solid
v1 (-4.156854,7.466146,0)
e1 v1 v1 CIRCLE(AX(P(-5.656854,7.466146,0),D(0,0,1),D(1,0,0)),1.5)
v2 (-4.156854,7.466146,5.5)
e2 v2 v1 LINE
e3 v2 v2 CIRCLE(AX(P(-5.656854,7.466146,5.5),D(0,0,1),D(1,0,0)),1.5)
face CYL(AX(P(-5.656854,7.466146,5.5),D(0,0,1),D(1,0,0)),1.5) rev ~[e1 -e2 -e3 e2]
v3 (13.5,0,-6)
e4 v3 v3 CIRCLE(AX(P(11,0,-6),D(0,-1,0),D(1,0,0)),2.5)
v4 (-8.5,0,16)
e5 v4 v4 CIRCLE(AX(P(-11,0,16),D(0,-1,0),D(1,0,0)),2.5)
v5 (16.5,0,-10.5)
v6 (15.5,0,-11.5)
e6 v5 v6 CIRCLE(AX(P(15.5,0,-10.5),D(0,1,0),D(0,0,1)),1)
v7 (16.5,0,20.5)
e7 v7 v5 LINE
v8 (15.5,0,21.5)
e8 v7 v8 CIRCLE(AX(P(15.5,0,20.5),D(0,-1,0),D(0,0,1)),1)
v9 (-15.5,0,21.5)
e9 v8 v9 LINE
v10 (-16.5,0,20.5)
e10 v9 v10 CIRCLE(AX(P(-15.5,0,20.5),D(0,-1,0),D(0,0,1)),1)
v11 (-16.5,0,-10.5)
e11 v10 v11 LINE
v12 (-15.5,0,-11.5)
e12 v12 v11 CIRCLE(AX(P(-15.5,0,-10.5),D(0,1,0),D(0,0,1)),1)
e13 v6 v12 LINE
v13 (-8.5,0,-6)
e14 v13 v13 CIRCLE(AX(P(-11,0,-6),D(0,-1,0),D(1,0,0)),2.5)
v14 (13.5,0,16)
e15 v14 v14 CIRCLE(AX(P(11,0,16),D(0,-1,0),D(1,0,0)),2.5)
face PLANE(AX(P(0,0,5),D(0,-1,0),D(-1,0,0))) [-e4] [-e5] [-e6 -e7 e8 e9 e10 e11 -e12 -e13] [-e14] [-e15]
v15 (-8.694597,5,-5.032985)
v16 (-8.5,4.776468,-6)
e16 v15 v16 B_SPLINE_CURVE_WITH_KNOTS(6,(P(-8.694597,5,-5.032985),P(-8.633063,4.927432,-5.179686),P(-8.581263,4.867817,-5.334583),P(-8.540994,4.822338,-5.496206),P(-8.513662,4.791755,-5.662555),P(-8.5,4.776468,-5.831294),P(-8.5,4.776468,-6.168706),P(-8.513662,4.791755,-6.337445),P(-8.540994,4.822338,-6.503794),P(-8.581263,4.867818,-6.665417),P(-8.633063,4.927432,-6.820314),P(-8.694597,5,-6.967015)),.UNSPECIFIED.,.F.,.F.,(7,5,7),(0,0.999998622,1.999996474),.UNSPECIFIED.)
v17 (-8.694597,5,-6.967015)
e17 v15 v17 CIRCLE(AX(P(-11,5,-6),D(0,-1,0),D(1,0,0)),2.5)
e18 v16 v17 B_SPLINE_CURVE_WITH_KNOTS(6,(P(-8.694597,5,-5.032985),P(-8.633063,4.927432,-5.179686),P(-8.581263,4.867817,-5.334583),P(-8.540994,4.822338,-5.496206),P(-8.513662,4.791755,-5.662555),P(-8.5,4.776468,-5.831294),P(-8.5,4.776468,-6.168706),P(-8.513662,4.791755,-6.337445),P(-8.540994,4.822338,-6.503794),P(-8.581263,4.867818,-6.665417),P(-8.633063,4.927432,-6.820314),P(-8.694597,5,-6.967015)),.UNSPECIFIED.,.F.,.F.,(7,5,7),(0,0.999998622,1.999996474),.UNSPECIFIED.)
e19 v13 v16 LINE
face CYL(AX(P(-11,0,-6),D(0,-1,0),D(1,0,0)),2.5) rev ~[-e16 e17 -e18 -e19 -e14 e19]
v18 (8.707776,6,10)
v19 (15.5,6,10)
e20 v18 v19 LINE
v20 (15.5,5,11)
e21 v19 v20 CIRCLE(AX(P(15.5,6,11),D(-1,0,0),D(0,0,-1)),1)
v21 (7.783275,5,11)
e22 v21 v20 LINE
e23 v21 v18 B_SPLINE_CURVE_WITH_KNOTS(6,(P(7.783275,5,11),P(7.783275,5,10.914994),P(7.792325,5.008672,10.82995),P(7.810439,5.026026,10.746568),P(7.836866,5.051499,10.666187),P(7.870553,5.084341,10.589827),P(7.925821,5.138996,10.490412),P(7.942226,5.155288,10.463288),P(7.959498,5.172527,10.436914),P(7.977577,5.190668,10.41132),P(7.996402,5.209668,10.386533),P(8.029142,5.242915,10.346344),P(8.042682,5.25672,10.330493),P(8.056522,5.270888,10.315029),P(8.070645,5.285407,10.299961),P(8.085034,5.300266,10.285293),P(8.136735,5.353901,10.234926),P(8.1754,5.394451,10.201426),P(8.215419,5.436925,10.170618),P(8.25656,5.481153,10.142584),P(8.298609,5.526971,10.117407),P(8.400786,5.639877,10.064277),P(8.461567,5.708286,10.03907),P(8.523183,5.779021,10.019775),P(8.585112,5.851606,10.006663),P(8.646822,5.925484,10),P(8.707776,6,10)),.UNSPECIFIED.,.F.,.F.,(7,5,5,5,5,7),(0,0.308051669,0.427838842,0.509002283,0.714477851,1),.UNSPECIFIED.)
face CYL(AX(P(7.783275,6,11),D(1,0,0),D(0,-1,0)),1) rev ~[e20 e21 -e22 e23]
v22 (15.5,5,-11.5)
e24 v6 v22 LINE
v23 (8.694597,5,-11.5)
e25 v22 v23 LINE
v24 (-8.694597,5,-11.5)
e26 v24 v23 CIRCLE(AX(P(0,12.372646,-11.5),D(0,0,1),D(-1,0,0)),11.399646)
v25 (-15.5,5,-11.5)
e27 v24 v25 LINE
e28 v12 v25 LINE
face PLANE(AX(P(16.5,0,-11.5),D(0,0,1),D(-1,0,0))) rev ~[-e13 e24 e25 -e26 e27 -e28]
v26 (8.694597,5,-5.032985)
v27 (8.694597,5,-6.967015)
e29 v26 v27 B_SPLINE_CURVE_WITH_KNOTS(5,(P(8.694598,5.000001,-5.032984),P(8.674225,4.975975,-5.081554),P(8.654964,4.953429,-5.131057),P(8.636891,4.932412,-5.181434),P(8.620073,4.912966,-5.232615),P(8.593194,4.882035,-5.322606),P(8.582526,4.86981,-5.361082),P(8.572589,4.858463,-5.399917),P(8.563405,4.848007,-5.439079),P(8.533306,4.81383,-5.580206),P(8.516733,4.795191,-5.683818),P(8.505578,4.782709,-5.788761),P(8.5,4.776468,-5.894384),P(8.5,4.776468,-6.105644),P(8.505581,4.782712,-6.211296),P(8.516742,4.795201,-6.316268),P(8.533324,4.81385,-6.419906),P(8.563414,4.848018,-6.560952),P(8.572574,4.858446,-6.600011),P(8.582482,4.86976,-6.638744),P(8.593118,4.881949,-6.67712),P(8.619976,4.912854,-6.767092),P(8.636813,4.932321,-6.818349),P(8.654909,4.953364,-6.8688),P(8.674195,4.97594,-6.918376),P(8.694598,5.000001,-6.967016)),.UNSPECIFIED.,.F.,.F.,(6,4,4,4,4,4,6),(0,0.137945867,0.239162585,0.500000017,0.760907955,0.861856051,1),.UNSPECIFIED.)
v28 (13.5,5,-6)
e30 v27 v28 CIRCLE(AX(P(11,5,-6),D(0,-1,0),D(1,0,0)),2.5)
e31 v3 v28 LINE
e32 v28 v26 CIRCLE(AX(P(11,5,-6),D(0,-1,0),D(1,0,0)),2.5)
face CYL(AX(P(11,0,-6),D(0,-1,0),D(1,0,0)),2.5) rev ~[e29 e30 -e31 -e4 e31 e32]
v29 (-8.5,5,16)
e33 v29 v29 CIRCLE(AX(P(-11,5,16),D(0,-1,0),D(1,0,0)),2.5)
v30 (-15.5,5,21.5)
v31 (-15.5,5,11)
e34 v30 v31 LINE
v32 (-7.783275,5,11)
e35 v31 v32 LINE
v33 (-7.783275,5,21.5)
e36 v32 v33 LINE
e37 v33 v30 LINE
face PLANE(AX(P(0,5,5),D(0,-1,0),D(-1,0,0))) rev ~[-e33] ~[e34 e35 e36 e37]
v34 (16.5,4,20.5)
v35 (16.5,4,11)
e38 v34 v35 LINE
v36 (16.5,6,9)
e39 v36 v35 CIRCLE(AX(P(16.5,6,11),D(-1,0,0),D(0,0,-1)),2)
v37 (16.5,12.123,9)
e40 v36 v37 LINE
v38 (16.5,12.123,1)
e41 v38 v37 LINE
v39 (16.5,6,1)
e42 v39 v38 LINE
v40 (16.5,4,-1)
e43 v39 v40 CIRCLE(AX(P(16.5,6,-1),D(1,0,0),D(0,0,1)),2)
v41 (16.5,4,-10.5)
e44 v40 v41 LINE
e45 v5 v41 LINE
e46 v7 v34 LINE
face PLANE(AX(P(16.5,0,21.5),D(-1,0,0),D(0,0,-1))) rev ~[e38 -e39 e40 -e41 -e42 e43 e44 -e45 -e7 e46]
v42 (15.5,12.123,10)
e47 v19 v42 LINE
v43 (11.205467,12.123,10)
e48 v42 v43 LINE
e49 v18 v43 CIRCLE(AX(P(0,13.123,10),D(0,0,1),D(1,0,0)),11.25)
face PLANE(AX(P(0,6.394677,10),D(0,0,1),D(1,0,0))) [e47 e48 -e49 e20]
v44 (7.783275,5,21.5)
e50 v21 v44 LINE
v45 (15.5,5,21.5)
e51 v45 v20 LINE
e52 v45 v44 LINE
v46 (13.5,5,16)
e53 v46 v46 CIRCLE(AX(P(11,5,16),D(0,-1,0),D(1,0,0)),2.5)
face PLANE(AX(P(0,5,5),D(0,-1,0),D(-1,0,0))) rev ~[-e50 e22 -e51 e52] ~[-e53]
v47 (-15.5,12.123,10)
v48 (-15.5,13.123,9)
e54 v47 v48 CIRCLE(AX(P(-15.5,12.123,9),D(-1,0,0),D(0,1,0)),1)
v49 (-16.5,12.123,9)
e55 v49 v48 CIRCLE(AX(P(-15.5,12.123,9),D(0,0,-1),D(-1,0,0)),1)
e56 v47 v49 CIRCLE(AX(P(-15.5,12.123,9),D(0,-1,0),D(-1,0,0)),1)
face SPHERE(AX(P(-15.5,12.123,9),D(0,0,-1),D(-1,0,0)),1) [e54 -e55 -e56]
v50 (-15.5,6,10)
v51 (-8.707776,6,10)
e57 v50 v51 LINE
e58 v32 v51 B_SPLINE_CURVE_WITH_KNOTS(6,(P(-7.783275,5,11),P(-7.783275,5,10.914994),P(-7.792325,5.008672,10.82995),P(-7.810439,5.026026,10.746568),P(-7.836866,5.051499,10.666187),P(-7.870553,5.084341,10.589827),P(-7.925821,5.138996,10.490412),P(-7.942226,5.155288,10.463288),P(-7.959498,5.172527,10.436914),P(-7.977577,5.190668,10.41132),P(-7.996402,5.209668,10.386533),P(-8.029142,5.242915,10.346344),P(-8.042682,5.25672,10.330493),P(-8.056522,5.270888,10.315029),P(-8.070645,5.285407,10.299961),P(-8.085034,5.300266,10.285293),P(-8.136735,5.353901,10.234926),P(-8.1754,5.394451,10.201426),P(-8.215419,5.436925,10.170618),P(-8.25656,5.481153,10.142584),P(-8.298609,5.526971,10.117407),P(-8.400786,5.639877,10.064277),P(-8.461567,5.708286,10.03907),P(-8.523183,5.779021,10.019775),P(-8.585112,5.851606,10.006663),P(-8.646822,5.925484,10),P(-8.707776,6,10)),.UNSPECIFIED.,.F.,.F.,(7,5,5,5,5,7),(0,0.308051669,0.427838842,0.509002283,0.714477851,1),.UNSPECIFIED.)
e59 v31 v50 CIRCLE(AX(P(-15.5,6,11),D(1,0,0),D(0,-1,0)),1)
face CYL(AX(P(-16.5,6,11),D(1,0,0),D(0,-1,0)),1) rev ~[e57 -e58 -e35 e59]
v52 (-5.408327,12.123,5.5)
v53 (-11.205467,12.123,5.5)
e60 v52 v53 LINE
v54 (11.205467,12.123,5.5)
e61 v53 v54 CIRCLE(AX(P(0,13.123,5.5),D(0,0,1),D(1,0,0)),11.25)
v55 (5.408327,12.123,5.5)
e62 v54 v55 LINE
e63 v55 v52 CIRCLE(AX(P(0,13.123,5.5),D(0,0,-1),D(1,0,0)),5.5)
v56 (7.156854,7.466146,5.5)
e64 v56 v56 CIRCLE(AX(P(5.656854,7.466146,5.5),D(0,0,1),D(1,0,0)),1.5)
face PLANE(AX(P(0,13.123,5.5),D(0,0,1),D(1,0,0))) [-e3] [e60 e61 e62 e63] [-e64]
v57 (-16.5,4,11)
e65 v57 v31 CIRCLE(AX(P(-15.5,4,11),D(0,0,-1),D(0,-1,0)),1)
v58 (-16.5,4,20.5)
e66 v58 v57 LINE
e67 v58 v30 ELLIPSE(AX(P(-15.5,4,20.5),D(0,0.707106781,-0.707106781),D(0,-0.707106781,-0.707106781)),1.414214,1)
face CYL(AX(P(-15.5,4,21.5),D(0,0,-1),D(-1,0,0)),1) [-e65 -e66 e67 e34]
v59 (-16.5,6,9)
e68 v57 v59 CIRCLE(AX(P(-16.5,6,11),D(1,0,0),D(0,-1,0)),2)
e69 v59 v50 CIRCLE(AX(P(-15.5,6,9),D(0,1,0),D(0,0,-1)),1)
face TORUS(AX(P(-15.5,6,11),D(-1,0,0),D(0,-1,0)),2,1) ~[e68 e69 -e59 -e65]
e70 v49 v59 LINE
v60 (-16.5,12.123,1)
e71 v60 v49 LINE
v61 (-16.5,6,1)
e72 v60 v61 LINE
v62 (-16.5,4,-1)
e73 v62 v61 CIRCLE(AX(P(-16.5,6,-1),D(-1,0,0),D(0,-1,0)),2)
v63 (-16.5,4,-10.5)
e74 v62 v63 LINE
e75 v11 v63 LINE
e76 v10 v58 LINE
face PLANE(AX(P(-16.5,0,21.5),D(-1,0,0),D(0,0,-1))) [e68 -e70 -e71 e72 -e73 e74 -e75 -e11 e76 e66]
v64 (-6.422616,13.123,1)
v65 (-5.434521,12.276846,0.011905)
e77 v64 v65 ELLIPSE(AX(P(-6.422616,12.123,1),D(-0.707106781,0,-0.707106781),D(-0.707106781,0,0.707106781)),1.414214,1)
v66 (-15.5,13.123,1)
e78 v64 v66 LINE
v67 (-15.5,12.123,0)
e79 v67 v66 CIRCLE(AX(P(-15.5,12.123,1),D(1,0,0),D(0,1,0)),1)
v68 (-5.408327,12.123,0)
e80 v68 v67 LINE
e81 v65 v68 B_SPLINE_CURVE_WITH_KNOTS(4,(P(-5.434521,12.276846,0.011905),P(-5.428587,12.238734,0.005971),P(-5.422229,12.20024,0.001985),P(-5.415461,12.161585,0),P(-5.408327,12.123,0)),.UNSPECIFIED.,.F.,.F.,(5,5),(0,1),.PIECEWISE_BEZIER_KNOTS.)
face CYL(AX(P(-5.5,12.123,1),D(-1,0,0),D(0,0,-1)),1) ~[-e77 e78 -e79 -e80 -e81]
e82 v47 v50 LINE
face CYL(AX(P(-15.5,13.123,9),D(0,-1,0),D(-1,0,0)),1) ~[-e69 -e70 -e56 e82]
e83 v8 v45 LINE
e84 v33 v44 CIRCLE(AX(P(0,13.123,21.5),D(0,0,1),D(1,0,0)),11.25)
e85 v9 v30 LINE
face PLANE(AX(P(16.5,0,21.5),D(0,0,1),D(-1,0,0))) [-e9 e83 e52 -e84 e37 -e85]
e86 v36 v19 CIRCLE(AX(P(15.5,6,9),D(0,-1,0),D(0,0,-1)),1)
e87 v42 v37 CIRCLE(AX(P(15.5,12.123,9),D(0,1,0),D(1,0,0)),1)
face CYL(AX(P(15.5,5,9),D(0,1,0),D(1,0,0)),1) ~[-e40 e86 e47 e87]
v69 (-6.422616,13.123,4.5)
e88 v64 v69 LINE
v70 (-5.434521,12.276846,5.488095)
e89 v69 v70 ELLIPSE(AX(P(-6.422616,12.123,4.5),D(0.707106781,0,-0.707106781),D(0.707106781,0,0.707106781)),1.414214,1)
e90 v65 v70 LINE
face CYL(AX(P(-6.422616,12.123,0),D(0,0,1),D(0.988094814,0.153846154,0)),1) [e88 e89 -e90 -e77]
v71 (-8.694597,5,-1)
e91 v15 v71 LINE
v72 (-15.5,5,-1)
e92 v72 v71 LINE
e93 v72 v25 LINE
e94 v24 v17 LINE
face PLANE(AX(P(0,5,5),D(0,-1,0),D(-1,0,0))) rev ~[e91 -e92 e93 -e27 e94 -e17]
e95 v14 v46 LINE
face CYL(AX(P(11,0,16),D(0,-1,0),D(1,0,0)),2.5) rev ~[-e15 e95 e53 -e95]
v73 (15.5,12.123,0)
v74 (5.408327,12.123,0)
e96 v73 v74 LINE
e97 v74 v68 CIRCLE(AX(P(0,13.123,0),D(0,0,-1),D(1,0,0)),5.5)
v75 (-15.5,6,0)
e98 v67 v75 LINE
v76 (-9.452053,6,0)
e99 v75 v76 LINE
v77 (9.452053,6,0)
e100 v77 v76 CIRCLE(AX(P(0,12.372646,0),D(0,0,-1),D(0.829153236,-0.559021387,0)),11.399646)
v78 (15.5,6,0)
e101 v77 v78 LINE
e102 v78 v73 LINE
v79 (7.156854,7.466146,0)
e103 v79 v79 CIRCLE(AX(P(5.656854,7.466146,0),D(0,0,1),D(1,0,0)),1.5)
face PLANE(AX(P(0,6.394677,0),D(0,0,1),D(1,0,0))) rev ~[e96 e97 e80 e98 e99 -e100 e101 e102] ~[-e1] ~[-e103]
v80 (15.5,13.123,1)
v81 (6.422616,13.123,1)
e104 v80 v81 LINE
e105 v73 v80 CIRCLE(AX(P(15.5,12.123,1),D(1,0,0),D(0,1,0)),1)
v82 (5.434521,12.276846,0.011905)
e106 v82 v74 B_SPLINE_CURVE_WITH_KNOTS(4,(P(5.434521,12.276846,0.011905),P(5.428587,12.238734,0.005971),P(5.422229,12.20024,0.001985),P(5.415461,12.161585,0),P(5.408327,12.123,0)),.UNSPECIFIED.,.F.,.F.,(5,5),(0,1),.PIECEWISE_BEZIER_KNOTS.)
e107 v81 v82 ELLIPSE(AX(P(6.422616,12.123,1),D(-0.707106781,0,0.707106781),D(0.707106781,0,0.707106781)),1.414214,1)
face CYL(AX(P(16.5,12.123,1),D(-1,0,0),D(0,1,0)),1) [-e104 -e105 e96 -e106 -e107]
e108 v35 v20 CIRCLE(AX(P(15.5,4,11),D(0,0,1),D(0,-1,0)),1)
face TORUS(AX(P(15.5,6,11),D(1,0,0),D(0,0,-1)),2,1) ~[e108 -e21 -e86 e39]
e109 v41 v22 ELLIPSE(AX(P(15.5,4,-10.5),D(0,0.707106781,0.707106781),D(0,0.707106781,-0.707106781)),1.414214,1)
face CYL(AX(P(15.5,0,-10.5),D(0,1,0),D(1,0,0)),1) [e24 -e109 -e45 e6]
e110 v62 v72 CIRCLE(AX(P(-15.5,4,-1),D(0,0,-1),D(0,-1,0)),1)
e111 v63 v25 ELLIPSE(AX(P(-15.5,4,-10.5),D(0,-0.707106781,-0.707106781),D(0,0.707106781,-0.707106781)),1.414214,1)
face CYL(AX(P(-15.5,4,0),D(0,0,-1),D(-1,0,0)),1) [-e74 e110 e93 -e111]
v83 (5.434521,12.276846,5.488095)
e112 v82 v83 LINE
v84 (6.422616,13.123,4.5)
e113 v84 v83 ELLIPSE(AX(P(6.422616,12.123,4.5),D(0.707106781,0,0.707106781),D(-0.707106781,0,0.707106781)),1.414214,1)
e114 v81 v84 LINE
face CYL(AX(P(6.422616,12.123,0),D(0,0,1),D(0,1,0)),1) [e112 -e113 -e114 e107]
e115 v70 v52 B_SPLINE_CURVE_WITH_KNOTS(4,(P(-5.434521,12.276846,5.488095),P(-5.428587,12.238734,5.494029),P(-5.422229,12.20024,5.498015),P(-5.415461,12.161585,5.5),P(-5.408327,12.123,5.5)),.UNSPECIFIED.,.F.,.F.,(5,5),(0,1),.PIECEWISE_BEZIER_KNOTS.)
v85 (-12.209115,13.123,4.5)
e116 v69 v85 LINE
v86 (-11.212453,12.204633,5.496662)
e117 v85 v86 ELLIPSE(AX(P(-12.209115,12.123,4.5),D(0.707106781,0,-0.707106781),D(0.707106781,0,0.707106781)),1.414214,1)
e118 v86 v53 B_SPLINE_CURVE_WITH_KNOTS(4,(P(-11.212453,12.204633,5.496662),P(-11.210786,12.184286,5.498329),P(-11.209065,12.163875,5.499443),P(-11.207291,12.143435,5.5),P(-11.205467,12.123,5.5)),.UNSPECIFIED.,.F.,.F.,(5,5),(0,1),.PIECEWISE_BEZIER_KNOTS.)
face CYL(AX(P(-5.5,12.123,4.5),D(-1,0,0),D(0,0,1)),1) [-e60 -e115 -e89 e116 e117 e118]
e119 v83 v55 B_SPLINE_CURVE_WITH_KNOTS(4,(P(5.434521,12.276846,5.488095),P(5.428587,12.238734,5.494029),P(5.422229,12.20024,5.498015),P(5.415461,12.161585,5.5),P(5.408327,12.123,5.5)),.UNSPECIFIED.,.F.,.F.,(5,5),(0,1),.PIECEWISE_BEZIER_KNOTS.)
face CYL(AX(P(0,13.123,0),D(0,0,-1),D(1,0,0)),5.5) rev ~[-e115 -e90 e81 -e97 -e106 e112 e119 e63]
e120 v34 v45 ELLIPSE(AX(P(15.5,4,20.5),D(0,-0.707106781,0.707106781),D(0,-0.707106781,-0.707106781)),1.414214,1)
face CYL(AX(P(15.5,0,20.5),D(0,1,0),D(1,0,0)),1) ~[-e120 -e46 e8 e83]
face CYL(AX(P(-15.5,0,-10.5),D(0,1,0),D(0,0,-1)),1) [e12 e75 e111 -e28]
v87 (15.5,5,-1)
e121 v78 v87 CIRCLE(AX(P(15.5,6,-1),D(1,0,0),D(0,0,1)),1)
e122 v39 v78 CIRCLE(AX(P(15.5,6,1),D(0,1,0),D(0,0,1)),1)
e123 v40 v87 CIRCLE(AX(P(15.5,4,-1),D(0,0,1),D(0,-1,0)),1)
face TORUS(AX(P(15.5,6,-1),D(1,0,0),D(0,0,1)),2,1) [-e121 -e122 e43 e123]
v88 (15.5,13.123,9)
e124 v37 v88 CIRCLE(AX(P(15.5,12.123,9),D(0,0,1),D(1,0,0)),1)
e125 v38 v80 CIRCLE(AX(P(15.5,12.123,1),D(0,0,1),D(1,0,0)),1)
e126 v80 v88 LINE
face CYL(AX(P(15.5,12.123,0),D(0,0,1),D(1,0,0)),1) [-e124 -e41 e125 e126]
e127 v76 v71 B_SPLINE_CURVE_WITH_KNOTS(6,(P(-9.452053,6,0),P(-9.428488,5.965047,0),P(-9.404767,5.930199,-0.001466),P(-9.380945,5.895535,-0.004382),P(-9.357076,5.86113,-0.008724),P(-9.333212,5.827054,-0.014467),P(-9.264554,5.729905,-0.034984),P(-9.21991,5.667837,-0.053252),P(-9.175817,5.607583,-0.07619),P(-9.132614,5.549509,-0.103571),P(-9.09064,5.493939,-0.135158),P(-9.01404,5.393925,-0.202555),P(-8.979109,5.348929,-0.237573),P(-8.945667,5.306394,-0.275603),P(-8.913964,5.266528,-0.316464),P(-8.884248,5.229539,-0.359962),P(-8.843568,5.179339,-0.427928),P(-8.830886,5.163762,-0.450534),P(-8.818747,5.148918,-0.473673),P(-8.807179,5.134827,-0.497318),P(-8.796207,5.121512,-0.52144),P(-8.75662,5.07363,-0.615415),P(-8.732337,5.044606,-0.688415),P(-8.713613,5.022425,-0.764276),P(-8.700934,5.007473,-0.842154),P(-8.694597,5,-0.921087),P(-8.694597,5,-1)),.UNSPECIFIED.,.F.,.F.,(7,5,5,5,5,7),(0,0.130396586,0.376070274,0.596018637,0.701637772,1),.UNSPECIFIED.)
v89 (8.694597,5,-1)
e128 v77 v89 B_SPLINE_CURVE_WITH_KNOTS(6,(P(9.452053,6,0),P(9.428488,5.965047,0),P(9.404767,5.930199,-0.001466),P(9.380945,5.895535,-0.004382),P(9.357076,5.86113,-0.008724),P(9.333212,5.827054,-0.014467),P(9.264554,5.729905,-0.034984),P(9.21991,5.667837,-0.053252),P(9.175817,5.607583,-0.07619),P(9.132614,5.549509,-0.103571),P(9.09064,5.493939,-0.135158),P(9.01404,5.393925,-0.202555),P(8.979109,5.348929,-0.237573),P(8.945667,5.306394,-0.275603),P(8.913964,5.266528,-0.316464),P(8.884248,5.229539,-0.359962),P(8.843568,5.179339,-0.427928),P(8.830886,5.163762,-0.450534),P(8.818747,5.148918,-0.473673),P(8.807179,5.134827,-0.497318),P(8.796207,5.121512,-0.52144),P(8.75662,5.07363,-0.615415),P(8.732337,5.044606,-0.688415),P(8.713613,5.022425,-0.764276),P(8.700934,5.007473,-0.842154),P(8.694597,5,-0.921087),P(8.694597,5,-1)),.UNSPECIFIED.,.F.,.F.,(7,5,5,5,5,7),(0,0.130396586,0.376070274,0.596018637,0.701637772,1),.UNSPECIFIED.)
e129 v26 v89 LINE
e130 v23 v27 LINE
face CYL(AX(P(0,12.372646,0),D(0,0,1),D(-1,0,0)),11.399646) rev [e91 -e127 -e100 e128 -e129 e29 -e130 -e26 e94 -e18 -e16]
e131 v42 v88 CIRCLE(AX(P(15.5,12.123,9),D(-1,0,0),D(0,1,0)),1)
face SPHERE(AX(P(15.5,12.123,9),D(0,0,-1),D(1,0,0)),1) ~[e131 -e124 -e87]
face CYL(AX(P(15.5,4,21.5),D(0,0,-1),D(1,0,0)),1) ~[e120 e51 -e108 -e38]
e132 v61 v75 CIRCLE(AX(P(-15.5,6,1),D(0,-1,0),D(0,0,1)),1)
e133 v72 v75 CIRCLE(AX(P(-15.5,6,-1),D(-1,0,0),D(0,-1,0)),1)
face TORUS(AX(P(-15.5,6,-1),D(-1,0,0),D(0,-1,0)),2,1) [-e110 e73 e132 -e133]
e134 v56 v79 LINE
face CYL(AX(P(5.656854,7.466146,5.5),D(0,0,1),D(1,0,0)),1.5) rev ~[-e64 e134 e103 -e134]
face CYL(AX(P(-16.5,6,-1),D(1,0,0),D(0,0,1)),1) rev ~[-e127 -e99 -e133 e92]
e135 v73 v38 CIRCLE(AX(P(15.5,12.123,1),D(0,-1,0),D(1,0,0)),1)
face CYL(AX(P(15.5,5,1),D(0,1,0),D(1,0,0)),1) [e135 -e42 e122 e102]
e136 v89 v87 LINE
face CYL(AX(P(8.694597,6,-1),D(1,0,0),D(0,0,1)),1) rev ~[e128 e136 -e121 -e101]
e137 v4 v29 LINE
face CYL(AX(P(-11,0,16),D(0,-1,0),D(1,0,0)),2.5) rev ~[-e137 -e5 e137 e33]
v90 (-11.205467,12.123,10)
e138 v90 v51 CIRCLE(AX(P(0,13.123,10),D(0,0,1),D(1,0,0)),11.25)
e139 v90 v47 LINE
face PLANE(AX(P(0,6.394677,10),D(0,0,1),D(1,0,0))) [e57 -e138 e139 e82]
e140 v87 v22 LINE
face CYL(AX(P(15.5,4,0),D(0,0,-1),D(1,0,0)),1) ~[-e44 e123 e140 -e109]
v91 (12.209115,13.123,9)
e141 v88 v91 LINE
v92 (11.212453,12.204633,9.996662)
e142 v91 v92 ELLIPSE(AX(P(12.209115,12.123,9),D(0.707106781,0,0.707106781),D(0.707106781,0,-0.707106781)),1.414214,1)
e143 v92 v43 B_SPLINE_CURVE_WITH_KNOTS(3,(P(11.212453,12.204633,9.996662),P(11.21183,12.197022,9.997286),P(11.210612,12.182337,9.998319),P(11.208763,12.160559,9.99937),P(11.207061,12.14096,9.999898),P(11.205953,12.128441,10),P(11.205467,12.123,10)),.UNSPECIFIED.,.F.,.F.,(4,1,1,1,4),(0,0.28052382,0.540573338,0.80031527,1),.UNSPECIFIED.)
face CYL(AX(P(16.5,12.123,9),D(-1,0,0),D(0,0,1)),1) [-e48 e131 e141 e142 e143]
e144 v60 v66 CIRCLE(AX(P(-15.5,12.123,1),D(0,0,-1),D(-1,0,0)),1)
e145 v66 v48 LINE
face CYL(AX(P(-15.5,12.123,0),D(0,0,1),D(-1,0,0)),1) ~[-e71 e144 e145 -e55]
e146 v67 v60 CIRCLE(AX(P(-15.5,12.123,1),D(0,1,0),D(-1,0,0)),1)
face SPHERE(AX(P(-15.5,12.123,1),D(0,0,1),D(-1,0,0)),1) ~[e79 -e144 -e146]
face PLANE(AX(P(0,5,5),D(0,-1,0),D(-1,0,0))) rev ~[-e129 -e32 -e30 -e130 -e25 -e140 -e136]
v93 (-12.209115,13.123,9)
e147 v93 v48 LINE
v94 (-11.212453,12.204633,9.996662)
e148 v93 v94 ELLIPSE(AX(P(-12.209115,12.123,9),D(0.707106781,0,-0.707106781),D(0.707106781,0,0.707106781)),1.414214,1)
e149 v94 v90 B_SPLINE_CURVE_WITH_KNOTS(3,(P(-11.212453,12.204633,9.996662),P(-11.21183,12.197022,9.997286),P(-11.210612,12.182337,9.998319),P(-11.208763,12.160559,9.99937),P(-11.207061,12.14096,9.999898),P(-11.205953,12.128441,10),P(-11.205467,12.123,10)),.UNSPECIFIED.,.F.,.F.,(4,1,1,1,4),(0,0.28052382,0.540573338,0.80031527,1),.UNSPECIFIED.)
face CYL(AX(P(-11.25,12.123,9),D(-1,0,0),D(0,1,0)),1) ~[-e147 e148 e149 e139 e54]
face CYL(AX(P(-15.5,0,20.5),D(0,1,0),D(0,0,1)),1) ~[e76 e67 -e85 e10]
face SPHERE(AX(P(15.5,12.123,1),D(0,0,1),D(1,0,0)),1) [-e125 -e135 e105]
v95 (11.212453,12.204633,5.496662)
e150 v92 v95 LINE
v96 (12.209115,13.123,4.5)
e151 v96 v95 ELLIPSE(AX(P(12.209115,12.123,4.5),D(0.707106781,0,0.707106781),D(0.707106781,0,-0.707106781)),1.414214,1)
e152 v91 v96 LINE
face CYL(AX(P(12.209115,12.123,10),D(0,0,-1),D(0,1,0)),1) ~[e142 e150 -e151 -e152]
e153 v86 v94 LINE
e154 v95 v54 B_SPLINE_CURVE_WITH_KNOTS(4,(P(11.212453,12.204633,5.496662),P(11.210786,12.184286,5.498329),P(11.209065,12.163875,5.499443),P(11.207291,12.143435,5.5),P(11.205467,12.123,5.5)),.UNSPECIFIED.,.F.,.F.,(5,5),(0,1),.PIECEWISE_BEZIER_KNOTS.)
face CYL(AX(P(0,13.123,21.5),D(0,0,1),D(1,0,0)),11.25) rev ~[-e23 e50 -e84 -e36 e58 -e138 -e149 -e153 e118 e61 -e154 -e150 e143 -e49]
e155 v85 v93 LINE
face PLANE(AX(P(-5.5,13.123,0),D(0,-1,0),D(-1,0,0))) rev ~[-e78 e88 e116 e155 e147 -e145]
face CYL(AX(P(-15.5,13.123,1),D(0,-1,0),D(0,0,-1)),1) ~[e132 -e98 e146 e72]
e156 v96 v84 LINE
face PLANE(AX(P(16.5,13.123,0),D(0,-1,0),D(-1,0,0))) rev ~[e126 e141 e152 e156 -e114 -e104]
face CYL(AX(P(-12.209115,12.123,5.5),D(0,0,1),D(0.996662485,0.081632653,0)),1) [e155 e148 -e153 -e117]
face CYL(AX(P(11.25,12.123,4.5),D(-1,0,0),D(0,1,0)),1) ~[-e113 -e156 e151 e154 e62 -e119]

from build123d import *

# Parameters (mm, degrees)
BOSS_EXTRUDE1_DEPTH = 10
SKETCH6_W           = 33
SKETCH6_H           = 33
SKETCH6_R           = 2.5
BOSS_EXTRUDE2_DEPTH = 5
SKETCH4_R           = 11.25
CUT_EXTRUDE1_DEPTH  = 16
CUT_EXTRUDE2_REACH  = 29.083
SKETCH5_R           = 1.5
CUT_EXTRUDE3_REACH  = 32.112
SKETCH7_R           = 11.399645817
FILLET1_R           = 1


with BuildPart() as part:
    # Sketch3 → Boss-Extrude1 (new body)
    with BuildSketch(Plane.XY):
        with BuildLine():
            Line((-16.5, 0), (16.5, 0))
            Line((16.5, 0), (16.5, 13.123))
            Line((16.5, 13.123), (11.5, 13.123))
            Line((11.5, 13.123), (5.5, 13.123))
            ThreePointArc((5.5, 13.123), (0, 7.623), (-5.5, 13.123))
            Line((-5.5, 13.123), (-11.5, 13.123))
            Line((-11.5, 13.123), (-16.5, 13.123))
            Line((-16.5, 13.123), (-16.5, 0))
        make_face()
    extrude(amount=BOSS_EXTRUDE1_DEPTH)

    # Sketch6 → Boss-Extrude2 (add)
    with BuildSketch(Plane(origin=(0, 0, 0), x_dir=(-1, 0, 0), z_dir=(0, -1, 0))):
        with Locations((0, -5)):
            Rectangle(SKETCH6_W, SKETCH6_H)
        with Locations(Location((11, -16, 0), (0, 0, 180))):
            Circle(SKETCH6_R, mode=Mode.SUBTRACT)
        with Locations(Location((-11, -16, 0), (0, 0, 180))):
            Circle(SKETCH6_R, mode=Mode.SUBTRACT)
        with Locations(Location((-11, 6, 0), (0, 0, 180))):
            Circle(SKETCH6_R, mode=Mode.SUBTRACT)
        with Locations(Location((11, 6, 0), (0, 0, 180))):
            Circle(SKETCH6_R, mode=Mode.SUBTRACT)
    extrude(amount=-BOSS_EXTRUDE2_DEPTH)

    # Sketch4 → Cut-Extrude1 (cut)
    with BuildSketch(Plane.XY.offset(21.5)):
        with Locations((0, 13.123)):
            Circle(SKETCH4_R)
    extrude(amount=-CUT_EXTRUDE1_DEPTH, mode=Mode.SUBTRACT)

    # Sketch5 → Cut-Extrude2 (cut, up to next)
    with BuildSketch(Plane.XY.offset(5.5), mode=Mode.PRIVATE) as cut_extrude2_sk1:
        with Locations((-5.656854249, 7.466145751)):
            Circle(SKETCH5_R)
    cut_extrude2_tool1 = extrude(cut_extrude2_sk1.sketch, amount=-CUT_EXTRUDE2_REACH, mode=Mode.PRIVATE) & part.part
    # Sketch5 → Cut-Extrude2 (cut, up to next)
    with BuildSketch(Plane.XY.offset(5.5), mode=Mode.PRIVATE) as cut_extrude2_sk2:
        with Locations((5.656854249, 7.466145751)):
            Circle(SKETCH5_R)
    cut_extrude2_tool2 = extrude(cut_extrude2_sk2.sketch, amount=-CUT_EXTRUDE2_REACH, mode=Mode.PRIVATE) & part.part
    add(cut_extrude2_tool1.solids().sort_by_distance((-5.656854, 7.466146, 5.5))[0], mode=Mode.SUBTRACT)
    add(cut_extrude2_tool2.solids().sort_by_distance((5.656854, 7.466146, 5.5))[0], mode=Mode.SUBTRACT)

    # Sketch7 → Cut-Extrude3 (cut, up to next)
    with BuildSketch(Plane(origin=(0, 0, 0), x_dir=(-1, 0, 0), z_dir=(0, 0, -1)), mode=Mode.PRIVATE) as cut_extrude3_sk1:
        with Locations((0, 12.372645817)):
            Circle(SKETCH7_R)
    cut_extrude3_tool1 = extrude(cut_extrude3_sk1.sketch, amount=CUT_EXTRUDE3_REACH, mode=Mode.PRIVATE) & part.part
    add(cut_extrude3_tool1.solids().sort_by_distance((0, 12.372646, 0))[0], mode=Mode.SUBTRACT)

    # Fillet1
    fillet1_edges = [part.edges().sort_by_distance(p)[0] for p in [
        (16.5, 13.123, 5),
        (-16.5, 13.123, 5),
        (16.5, 9.0615, 0),
        (-16.5, 9.0615, 0),
        (-12.597298541, 5, 0),
        (-16.5, 9.0615, 10),
        (16.5, 9.0615, 10),
        (-16.5, 5, -5.75),
        (-16.5, 2.5, -11.5),
        (16.5, 5, -5.75),
        (-12.141637541, 5, 10),
        (13.875, 13.123, 10),
        (-16.5, 5, 15.75),
        (-16.5, 2.5, 21.5),
        (16.5, 5, 15.75),
        (16.5, 2.5, 21.5),
        (16.5, 2.5, -11.5),
        (12.141637541, 5, 10),
        (5.5, 13.123, 2.75),
        (8.375, 13.123, 5.5),
        (-5.5, 13.123, 2.75),
        (11.25, 13.123, 7.75),
        (-11.25, 13.123, 7.75),
        (-8.375, 13.123, 5.5),
        (11, 13.123, 0),
        (12.597298541, 5, 0),
        (-13.875, 13.123, 10),
        (-11, 13.123, 0),
    ]]
    fillet(fillet1_edges, radius=FILLET1_R)


solid = part.part
